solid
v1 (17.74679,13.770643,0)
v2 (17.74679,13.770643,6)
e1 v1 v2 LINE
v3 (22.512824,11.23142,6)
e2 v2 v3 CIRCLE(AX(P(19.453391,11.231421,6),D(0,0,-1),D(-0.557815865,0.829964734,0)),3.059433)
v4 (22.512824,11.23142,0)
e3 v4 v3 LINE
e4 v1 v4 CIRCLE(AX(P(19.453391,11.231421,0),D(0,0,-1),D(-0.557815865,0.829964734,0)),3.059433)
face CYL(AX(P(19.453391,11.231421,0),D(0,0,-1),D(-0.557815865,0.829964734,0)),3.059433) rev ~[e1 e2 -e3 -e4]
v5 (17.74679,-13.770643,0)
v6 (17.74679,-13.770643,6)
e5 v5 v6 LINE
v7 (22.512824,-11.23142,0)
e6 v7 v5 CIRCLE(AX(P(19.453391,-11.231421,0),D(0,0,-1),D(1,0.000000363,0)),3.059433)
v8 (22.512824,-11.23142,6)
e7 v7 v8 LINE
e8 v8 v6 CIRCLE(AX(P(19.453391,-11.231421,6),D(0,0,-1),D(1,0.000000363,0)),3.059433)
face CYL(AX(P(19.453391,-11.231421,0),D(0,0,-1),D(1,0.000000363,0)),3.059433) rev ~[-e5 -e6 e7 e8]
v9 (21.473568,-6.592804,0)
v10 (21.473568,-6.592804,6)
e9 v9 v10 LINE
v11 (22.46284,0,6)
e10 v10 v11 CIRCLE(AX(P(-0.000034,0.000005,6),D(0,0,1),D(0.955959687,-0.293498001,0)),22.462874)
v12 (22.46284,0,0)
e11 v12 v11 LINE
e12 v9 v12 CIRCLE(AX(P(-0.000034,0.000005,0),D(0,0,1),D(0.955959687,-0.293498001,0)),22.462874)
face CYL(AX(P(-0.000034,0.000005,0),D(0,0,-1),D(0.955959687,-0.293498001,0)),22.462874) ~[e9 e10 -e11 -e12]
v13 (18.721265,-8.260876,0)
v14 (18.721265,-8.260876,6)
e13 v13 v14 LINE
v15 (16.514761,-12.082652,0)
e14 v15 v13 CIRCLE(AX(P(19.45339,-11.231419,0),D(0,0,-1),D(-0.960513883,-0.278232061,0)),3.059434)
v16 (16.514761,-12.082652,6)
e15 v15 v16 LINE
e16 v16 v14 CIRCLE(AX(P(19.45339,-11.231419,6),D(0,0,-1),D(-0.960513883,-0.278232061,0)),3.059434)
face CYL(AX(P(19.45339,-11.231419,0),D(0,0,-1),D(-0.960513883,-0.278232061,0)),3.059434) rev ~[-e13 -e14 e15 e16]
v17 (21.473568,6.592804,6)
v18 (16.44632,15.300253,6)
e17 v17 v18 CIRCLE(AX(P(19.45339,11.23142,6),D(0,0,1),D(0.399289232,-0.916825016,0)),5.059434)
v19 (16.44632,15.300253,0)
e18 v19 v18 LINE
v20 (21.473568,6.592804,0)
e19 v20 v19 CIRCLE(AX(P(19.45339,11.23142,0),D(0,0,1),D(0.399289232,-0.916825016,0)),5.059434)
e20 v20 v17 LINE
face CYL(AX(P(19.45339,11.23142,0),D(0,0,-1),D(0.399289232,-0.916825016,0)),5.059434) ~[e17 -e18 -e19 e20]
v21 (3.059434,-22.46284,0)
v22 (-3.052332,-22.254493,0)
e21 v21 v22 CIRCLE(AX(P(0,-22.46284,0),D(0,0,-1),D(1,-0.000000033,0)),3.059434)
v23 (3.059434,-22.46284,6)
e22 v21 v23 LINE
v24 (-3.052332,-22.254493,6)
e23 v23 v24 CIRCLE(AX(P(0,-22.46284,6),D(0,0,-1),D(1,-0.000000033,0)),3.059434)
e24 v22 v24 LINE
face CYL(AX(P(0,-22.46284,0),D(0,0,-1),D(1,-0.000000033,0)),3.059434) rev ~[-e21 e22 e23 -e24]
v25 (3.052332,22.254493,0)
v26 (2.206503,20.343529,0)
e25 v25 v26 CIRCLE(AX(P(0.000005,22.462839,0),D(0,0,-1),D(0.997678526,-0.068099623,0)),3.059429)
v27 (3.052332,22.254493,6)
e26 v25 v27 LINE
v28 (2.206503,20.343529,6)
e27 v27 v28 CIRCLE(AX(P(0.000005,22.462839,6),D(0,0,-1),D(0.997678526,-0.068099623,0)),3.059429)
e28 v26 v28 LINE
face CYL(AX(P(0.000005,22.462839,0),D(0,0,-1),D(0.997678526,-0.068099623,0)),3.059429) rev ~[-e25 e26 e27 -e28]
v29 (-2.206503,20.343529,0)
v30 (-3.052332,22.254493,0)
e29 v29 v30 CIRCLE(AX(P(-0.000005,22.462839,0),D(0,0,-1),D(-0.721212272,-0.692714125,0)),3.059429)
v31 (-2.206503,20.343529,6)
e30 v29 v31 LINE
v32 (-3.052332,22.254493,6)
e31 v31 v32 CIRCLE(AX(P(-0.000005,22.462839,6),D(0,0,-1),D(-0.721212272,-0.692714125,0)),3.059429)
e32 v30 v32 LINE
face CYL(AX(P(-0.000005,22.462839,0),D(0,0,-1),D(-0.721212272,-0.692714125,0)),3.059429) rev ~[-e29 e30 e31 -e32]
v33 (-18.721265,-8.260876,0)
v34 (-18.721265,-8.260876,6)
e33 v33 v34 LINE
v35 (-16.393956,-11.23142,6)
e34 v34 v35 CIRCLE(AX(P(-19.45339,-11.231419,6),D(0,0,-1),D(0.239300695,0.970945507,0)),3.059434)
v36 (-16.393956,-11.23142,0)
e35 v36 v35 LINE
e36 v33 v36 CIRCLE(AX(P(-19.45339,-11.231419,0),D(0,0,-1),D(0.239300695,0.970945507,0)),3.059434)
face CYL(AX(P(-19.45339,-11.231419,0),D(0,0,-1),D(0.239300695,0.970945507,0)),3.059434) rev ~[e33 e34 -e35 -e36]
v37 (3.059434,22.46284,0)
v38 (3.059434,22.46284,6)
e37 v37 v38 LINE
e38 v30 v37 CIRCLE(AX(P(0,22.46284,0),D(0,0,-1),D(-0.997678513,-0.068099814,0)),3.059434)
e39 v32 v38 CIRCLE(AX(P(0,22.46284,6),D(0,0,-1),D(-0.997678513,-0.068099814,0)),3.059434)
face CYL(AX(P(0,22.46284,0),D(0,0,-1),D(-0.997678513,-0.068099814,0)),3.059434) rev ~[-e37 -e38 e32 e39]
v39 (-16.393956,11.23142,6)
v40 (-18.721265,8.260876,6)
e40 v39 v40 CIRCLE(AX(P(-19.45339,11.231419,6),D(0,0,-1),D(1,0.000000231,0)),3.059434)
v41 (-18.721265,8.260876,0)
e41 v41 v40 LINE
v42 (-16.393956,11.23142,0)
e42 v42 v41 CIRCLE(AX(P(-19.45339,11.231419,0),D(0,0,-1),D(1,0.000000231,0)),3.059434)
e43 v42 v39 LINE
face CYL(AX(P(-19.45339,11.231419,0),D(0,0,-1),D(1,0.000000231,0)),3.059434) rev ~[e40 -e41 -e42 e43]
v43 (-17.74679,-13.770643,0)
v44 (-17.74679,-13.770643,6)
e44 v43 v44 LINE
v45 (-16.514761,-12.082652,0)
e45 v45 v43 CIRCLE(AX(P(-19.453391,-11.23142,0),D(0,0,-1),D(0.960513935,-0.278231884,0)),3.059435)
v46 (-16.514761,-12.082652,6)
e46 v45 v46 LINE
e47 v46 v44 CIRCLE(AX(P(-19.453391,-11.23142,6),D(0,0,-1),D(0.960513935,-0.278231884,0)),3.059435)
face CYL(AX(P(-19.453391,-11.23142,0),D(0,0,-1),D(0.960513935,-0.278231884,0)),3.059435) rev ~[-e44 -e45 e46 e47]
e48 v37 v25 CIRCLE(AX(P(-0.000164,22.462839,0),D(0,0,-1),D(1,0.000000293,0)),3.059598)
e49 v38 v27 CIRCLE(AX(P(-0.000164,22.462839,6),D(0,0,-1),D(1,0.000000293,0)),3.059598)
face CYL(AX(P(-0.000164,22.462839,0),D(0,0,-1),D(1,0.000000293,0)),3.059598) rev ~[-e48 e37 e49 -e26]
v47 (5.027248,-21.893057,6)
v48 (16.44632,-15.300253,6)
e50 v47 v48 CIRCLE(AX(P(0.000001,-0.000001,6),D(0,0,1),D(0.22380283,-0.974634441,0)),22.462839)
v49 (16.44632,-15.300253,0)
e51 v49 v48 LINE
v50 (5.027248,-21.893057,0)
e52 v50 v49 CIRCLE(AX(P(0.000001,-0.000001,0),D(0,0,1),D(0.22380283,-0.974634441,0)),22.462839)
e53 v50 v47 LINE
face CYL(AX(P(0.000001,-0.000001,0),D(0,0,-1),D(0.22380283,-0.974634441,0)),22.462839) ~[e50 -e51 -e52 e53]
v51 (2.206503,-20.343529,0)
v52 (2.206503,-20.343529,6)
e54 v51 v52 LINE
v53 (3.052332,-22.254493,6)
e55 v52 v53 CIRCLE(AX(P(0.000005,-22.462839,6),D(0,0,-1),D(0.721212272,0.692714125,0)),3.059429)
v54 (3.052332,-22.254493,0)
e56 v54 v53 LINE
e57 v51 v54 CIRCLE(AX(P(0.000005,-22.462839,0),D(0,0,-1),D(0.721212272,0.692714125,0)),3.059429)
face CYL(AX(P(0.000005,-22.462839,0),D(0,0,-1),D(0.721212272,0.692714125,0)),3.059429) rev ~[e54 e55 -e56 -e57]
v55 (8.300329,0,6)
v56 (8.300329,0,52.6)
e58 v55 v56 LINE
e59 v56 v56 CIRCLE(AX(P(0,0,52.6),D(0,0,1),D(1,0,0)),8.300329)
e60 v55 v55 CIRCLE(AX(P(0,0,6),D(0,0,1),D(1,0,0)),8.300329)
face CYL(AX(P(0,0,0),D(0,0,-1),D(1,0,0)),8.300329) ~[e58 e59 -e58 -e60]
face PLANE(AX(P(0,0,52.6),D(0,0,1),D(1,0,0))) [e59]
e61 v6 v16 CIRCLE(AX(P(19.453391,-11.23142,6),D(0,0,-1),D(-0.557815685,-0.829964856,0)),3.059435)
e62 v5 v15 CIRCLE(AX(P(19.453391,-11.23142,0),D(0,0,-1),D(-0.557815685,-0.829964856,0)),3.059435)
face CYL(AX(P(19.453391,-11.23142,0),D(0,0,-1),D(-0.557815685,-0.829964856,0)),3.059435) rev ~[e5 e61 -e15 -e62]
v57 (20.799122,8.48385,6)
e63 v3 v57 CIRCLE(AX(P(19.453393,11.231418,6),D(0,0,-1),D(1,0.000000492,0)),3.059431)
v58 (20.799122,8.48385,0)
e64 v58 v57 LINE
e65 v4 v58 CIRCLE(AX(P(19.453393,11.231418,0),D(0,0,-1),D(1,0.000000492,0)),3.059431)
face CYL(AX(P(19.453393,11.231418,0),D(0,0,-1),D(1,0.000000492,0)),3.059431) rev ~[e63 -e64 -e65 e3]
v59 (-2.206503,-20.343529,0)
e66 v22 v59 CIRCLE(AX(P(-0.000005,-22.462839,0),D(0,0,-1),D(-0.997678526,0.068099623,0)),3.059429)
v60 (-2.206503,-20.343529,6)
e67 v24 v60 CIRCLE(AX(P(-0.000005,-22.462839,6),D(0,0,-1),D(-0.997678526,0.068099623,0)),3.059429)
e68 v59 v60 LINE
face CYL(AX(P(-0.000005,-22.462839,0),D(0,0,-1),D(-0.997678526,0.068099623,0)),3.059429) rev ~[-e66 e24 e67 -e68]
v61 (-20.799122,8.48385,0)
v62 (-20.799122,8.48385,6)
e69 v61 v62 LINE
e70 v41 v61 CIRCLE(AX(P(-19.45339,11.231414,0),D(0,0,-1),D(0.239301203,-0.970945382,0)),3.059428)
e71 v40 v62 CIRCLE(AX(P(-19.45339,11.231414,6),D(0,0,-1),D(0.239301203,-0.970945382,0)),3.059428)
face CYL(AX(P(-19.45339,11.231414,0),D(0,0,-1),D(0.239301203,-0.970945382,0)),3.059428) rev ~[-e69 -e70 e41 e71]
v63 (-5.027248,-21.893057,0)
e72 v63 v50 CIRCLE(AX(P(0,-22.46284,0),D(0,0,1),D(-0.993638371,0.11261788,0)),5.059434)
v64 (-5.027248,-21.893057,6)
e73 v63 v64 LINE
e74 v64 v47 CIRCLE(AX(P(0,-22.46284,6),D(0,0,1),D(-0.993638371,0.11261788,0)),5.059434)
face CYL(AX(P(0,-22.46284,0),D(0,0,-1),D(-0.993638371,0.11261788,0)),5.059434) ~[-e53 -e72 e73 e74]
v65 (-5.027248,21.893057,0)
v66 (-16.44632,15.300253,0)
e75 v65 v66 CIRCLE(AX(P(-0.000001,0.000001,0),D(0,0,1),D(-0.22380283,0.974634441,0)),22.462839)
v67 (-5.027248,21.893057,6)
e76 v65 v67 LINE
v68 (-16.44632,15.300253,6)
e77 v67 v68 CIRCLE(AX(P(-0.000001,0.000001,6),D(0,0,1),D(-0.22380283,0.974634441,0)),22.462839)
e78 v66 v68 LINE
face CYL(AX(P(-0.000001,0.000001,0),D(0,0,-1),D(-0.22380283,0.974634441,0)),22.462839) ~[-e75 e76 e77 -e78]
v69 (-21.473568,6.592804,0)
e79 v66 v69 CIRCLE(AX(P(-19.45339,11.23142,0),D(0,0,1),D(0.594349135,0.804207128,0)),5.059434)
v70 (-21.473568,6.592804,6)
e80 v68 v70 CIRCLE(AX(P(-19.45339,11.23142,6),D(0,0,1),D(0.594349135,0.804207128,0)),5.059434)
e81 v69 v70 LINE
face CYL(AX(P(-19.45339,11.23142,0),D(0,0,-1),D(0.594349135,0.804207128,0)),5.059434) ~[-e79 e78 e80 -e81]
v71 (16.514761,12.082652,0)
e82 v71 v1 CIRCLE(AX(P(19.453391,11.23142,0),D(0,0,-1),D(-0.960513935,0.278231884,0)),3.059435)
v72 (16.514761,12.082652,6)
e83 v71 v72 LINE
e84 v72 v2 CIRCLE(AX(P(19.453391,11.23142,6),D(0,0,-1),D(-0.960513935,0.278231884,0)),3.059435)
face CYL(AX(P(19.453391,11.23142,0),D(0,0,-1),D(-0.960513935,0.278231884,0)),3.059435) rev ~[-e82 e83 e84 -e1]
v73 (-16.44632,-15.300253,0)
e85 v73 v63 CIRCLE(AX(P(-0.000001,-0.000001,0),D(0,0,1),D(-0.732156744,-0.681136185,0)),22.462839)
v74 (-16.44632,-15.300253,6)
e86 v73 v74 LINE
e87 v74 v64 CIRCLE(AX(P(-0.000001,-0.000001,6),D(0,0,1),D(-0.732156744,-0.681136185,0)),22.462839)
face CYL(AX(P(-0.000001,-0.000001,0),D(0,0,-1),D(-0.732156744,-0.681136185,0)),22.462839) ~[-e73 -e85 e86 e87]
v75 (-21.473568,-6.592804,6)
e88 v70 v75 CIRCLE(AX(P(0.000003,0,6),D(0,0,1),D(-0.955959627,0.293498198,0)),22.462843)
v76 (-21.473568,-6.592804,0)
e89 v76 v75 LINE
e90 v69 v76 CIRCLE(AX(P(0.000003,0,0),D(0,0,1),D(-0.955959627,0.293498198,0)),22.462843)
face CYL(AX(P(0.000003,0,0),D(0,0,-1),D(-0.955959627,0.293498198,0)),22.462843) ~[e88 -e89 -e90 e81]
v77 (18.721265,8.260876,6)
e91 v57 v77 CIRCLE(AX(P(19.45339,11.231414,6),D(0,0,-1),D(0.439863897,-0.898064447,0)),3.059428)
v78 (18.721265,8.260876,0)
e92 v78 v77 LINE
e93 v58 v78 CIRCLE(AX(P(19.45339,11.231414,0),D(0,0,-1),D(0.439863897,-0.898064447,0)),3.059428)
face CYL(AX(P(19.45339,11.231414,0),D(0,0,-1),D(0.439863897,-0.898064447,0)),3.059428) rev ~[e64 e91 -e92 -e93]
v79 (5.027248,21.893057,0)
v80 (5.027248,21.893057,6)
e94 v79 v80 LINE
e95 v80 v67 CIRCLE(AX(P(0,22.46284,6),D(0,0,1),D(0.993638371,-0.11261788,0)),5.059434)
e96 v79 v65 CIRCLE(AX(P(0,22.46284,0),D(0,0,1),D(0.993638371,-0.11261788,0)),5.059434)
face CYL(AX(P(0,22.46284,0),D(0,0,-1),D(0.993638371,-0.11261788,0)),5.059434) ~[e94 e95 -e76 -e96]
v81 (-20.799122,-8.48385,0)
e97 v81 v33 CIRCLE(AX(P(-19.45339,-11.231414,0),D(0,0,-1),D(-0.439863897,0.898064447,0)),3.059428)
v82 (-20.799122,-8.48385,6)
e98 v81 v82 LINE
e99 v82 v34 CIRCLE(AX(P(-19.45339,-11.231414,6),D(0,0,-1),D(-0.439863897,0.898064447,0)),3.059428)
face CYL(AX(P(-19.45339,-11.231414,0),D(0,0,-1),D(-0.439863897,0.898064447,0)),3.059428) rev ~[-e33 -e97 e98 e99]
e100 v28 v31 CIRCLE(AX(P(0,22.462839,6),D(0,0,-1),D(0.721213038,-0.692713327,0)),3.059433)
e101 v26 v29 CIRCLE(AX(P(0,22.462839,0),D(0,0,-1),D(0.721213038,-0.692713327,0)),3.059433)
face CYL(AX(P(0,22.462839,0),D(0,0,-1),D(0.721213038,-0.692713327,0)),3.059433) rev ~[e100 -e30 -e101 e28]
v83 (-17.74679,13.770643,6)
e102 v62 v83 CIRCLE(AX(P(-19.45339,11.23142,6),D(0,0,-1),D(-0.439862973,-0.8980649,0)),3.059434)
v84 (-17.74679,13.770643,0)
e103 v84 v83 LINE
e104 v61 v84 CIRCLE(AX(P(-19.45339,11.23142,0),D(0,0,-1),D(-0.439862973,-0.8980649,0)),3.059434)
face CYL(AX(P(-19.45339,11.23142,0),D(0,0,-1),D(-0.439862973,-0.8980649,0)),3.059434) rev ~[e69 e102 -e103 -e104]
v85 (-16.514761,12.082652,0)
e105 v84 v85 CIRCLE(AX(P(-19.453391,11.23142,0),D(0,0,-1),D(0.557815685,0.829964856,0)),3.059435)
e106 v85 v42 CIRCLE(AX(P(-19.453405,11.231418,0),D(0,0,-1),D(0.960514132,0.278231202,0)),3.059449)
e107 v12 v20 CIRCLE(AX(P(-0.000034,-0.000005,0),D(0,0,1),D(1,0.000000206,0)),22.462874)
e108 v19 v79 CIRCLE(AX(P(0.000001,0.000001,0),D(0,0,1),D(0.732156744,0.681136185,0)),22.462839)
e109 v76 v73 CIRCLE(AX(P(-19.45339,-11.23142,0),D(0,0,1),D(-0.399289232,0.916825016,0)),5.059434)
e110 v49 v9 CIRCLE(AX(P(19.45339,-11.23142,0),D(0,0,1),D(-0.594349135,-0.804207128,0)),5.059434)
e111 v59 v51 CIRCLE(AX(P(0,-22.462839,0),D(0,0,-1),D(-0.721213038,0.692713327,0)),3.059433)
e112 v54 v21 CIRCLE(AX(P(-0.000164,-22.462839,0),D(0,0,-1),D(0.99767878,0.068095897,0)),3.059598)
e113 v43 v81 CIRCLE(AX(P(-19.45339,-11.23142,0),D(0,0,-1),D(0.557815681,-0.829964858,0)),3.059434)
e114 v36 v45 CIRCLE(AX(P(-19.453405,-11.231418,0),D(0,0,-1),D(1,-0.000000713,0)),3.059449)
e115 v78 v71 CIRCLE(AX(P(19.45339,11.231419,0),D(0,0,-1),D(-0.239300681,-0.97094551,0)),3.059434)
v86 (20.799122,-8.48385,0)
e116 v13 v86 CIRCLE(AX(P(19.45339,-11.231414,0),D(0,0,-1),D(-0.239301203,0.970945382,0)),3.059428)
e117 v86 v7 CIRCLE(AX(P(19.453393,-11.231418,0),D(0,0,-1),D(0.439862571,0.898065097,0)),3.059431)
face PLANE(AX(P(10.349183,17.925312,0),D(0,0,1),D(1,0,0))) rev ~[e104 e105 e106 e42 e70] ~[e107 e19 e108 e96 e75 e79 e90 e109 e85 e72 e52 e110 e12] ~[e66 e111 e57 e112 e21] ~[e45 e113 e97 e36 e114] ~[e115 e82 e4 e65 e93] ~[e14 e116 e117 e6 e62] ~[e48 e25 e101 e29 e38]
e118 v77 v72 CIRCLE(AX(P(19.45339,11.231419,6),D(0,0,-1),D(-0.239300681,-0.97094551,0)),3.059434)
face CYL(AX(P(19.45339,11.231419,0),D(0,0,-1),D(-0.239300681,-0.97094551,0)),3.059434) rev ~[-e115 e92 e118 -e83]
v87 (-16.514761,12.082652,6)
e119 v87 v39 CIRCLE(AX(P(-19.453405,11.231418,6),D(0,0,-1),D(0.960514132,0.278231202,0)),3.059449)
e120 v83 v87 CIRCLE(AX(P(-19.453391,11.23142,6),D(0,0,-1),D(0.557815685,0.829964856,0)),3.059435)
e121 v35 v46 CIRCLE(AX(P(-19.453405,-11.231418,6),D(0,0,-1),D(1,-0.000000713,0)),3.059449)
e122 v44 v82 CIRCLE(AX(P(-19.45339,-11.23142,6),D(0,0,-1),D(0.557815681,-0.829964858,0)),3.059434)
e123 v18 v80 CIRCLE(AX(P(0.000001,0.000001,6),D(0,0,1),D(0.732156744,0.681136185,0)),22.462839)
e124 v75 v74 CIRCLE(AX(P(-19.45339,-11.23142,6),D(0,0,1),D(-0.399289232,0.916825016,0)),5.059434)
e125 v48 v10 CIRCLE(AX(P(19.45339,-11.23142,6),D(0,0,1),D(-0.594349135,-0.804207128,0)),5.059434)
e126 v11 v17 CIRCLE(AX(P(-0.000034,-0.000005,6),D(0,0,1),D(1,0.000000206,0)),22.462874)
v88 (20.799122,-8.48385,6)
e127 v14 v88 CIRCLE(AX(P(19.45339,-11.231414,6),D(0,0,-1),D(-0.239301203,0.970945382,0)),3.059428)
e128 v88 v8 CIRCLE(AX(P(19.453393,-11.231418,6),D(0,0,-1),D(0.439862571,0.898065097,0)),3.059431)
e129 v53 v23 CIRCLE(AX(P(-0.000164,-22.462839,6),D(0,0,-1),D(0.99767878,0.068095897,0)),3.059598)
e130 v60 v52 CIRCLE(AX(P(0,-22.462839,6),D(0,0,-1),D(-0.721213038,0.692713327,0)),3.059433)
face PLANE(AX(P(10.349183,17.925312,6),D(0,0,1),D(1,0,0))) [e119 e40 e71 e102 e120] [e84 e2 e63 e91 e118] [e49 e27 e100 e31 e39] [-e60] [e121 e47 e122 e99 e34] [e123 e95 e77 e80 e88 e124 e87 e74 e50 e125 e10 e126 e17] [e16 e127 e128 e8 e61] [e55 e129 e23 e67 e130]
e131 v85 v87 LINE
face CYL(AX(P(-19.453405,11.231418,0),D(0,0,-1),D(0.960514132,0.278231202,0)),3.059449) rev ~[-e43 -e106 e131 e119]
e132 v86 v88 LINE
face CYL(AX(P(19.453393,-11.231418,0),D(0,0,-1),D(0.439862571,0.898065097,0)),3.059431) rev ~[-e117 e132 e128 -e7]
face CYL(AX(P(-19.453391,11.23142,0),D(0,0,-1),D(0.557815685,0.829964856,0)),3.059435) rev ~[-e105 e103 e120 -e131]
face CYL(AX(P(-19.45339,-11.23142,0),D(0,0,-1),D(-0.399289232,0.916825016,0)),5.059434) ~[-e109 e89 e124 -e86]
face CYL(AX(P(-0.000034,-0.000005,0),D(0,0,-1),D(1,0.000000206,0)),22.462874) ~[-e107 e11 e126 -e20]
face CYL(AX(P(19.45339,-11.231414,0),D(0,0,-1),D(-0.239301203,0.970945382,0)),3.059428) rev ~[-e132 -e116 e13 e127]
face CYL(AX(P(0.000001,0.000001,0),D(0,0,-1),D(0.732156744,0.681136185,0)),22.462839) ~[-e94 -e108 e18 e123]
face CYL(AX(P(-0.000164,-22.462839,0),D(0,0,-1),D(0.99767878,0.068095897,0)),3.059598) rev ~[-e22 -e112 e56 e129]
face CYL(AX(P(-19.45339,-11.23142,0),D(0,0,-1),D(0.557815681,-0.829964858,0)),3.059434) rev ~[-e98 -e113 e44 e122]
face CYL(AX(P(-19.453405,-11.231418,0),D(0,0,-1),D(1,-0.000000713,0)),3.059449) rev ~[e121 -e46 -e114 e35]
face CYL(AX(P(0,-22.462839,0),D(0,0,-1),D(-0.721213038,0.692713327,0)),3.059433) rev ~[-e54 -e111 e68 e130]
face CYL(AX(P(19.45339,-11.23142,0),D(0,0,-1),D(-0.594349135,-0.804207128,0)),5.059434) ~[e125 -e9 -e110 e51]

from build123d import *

# Parameters (mm, degrees)
F0_R     = 8.300329
F1_DEPTH = 52.6
F2_DEPTH = 6


with BuildPart() as f1:
    # F0 (on Top) → F1 (new body)
    with BuildSketch(Plane.XY):
        Circle(F0_R)
    extrude(amount=F1_DEPTH)

    # F0 (on Top) → F2 (join)
    with BuildSketch(Plane.XY):
        with BuildLine():
            ThreePointArc((17.74679, 13.770643), (17.113653, 14.549985), (16.44632, 15.300253))
            ThreePointArc((16.44632, 15.300253), (11.23142, 19.45339), (5.027248, 21.893057))
            ThreePointArc((5.027248, 21.893057), (4.04383, 22.095851), (3.052332, 22.254493))
            ThreePointArc((3.052332, 22.254493), (2.797639, 21.224553), (2.206503, 20.343529))
            ThreePointArc((2.206503, 20.343529), (10.23142, 17.721339), (16.514761, 12.082652))
            ThreePointArc((16.514761, 12.082652), (16.982183, 13.035103), (17.74679, 13.770643))
        make_face()
        with BuildLine():
            ThreePointArc((3.052332, 22.254493), (4.04383, 22.095851), (5.027248, 21.893057))
            ThreePointArc((5.027248, 21.893057), (0, 27.522274), (-5.027248, 21.893057))
            ThreePointArc((-5.027248, 21.893057), (-4.04383, 22.095851), (-3.052332, 22.254493))
            ThreePointArc((-3.052332, 22.254493), (-0.104234, 25.520498), (3.059434, 22.46284))
            ThreePointArc((3.059434, 22.46284), (3.057658, 22.358606), (3.052332, 22.254493))
        make_face()
        with BuildLine():
            ThreePointArc((20.799122, 8.48385), (21.157483, 7.545866), (21.473568, 6.592804))
            ThreePointArc((21.473568, 6.592804), (23.834989, 13.761137), (16.44632, 15.300253))
            ThreePointArc((16.44632, 15.300253), (17.113653, 14.549985), (17.74679, 13.770643))
            ThreePointArc((17.74679, 13.770643), (20.89195, 13.931547), (22.512824, 11.23142))
            ThreePointArc((22.512824, 11.23142), (22.049283, 9.612322), (20.799122, 8.48385))
        make_face()
        with BuildLine():
            ThreePointArc((21.473568, -6.592804), (22.214145, -3.333306), (22.46284, 0))
            ThreePointArc((22.46284, 0), (22.214145, 3.333306), (21.473568, 6.592804))
            ThreePointArc((21.473568, 6.592804), (21.157483, 7.545866), (20.799122, 8.48385))
            ThreePointArc((20.799122, 8.48385), (19.779822, 8.18945), (18.721265, 8.260876))
            ThreePointArc((18.721265, 8.260876), (20.022713, 4.221231), (20.46284, 0))
            ThreePointArc((20.46284, 0), (20.022713, -4.221231), (18.721265, -8.260876))
            ThreePointArc((18.721265, -8.260876), (19.779822, -8.18945), (20.799122, -8.48385))
            ThreePointArc((20.799122, -8.48385), (21.157483, -7.545866), (21.473568, -6.592804))
        make_face()
        with BuildLine():
            ThreePointArc((5.027248, -21.893057), (11.23142, -19.45339), (16.44632, -15.300253))
            ThreePointArc((16.44632, -15.300253), (17.113653, -14.549985), (17.74679, -13.770643))
            ThreePointArc((17.74679, -13.770643), (16.982183, -13.035103), (16.514761, -12.082652))
            ThreePointArc((16.514761, -12.082652), (10.23142, -17.721339), (2.206503, -20.343529))
            ThreePointArc((2.206503, -20.343529), (2.797639, -21.224553), (3.052332, -22.254493))
            ThreePointArc((3.052332, -22.254493), (4.04383, -22.095851), (5.027248, -21.893057))
        make_face()
        with BuildLine():
            ThreePointArc((16.44632, -15.300253), (23.834989, -13.761137), (21.473568, -6.592804))
            ThreePointArc((21.473568, -6.592804), (21.157483, -7.545866), (20.799122, -8.48385))
            ThreePointArc((20.799122, -8.48385), (22.049283, -9.612322), (22.512824, -11.23142))
            ThreePointArc((22.512824, -11.23142), (20.89195, -13.931547), (17.74679, -13.770643))
            ThreePointArc((17.74679, -13.770643), (17.113653, -14.549985), (16.44632, -15.300253))
        make_face()
        with BuildLine():
            ThreePointArc((-5.027248, -21.893057), (0, -27.522274), (5.027248, -21.893057))
            ThreePointArc((5.027248, -21.893057), (4.04383, -22.095851), (3.052332, -22.254493))
            ThreePointArc((3.052332, -22.254493), (3.057658, -22.358606), (3.059434, -22.46284))
            ThreePointArc((3.059434, -22.46284), (-0.104234, -25.520498), (-3.052332, -22.254493))
            ThreePointArc((-3.052332, -22.254493), (-4.04383, -22.095851), (-5.027248, -21.893057))
        make_face()
        with BuildLine():
            ThreePointArc((-16.44632, -15.300253), (-11.23142, -19.45339), (-5.027248, -21.893057))
            ThreePointArc((-5.027248, -21.893057), (-4.04383, -22.095851), (-3.052332, -22.254493))
            ThreePointArc((-3.052332, -22.254493), (-2.797639, -21.224553), (-2.206503, -20.343529))
            ThreePointArc((-2.206503, -20.343529), (-10.23142, -17.721339), (-16.514761, -12.082652))
            ThreePointArc((-16.514761, -12.082652), (-16.982183, -13.035103), (-17.74679, -13.770643))
            ThreePointArc((-17.74679, -13.770643), (-17.113653, -14.549985), (-16.44632, -15.300253))
        make_face()
        with BuildLine():
            ThreePointArc((-20.799122, 8.48385), (-21.157483, 7.545866), (-21.473568, 6.592804))
            ThreePointArc((-21.473568, 6.592804), (-22.46284, 0), (-21.473568, -6.592804))
            ThreePointArc((-21.473568, -6.592804), (-21.157483, -7.545866), (-20.799122, -8.48385))
            ThreePointArc((-20.799122, -8.48385), (-19.779822, -8.18945), (-18.721265, -8.260876))
            ThreePointArc((-18.721265, -8.260876), (-20.46284, 0), (-18.721265, 8.260876))
            ThreePointArc((-18.721265, 8.260876), (-19.779822, 8.18945), (-20.799122, 8.48385))
        make_face()
        with BuildLine():
            ThreePointArc((-3.052332, 22.254493), (-4.04383, 22.095851), (-5.027248, 21.893057))
            ThreePointArc((-5.027248, 21.893057), (-11.23142, 19.45339), (-16.44632, 15.300253))
            ThreePointArc((-16.44632, 15.300253), (-17.113653, 14.549985), (-17.74679, 13.770643))
            ThreePointArc((-17.74679, 13.770643), (-16.982183, 13.035103), (-16.514761, 12.082652))
            ThreePointArc((-16.514761, 12.082652), (-10.23142, 17.721339), (-2.206503, 20.343529))
            ThreePointArc((-2.206503, 20.343529), (-2.797639, 21.224553), (-3.052332, 22.254493))
        make_face()
        with BuildLine():
            ThreePointArc((-17.74679, 13.770643), (-17.113653, 14.549985), (-16.44632, 15.300253))
            ThreePointArc((-16.44632, 15.300253), (-23.834989, 13.761137), (-21.473568, 6.592804))
            ThreePointArc((-21.473568, 6.592804), (-21.157483, 7.545866), (-20.799122, 8.48385))
            ThreePointArc((-20.799122, 8.48385), (-22.102938, 12.761137), (-17.74679, 13.770643))
        make_face()
        with BuildLine():
            ThreePointArc((-21.473568, -6.592804), (-23.834989, -13.761137), (-16.44632, -15.300253))
            ThreePointArc((-16.44632, -15.300253), (-17.113653, -14.549985), (-17.74679, -13.770643))
            ThreePointArc((-17.74679, -13.770643), (-22.102938, -12.761137), (-20.799122, -8.48385))
            ThreePointArc((-20.799122, -8.48385), (-21.157483, -7.545866), (-21.473568, -6.592804))
        make_face()
        with BuildLine():
            ThreePointArc((20.46284, 0), (20.022713, 4.221231), (18.721265, 8.260876))
            ThreePointArc((18.721265, 8.260876), (16.803842, 9.701703), (16.514761, 12.082652))
            ThreePointArc((16.514761, 12.082652), (10.23142, 17.721339), (2.206503, 20.343529))
            ThreePointArc((2.206503, 20.343529), (0, 19.403406), (-2.206503, 20.343529))
            ThreePointArc((-2.206503, 20.343529), (-10.23142, 17.721339), (-16.514761, 12.082652))
            ThreePointArc((-16.514761, 12.082652), (-16.424308, 11.661301), (-16.393956, 11.23142))
            ThreePointArc((-16.393956, 11.23142), (-17.045068, 9.344591), (-18.721265, 8.260876))
            ThreePointArc((-18.721265, 8.260876), (-20.46284, 0), (-18.721265, -8.260876))
            ThreePointArc((-18.721265, -8.260876), (-17.045068, -9.344591), (-16.393956, -11.23142))
            ThreePointArc((-16.393956, -11.23142), (-16.424308, -11.661301), (-16.514761, -12.082652))
            ThreePointArc((-16.514761, -12.082652), (-10.23142, -17.721339), (-2.206503, -20.343529))
            ThreePointArc((-2.206503, -20.343529), (0, -19.403406), (2.206503, -20.343529))
            ThreePointArc((2.206503, -20.343529), (10.23142, -17.721339), (16.514761, -12.082652))
            ThreePointArc((16.514761, -12.082652), (16.803842, -9.701703), (18.721265, -8.260876))
            ThreePointArc((18.721265, -8.260876), (20.022713, -4.221231), (20.46284, 0))
        make_face()
        Circle(F0_R, mode=Mode.SUBTRACT)
    extrude(amount=F2_DEPTH)


solid = f1.part
